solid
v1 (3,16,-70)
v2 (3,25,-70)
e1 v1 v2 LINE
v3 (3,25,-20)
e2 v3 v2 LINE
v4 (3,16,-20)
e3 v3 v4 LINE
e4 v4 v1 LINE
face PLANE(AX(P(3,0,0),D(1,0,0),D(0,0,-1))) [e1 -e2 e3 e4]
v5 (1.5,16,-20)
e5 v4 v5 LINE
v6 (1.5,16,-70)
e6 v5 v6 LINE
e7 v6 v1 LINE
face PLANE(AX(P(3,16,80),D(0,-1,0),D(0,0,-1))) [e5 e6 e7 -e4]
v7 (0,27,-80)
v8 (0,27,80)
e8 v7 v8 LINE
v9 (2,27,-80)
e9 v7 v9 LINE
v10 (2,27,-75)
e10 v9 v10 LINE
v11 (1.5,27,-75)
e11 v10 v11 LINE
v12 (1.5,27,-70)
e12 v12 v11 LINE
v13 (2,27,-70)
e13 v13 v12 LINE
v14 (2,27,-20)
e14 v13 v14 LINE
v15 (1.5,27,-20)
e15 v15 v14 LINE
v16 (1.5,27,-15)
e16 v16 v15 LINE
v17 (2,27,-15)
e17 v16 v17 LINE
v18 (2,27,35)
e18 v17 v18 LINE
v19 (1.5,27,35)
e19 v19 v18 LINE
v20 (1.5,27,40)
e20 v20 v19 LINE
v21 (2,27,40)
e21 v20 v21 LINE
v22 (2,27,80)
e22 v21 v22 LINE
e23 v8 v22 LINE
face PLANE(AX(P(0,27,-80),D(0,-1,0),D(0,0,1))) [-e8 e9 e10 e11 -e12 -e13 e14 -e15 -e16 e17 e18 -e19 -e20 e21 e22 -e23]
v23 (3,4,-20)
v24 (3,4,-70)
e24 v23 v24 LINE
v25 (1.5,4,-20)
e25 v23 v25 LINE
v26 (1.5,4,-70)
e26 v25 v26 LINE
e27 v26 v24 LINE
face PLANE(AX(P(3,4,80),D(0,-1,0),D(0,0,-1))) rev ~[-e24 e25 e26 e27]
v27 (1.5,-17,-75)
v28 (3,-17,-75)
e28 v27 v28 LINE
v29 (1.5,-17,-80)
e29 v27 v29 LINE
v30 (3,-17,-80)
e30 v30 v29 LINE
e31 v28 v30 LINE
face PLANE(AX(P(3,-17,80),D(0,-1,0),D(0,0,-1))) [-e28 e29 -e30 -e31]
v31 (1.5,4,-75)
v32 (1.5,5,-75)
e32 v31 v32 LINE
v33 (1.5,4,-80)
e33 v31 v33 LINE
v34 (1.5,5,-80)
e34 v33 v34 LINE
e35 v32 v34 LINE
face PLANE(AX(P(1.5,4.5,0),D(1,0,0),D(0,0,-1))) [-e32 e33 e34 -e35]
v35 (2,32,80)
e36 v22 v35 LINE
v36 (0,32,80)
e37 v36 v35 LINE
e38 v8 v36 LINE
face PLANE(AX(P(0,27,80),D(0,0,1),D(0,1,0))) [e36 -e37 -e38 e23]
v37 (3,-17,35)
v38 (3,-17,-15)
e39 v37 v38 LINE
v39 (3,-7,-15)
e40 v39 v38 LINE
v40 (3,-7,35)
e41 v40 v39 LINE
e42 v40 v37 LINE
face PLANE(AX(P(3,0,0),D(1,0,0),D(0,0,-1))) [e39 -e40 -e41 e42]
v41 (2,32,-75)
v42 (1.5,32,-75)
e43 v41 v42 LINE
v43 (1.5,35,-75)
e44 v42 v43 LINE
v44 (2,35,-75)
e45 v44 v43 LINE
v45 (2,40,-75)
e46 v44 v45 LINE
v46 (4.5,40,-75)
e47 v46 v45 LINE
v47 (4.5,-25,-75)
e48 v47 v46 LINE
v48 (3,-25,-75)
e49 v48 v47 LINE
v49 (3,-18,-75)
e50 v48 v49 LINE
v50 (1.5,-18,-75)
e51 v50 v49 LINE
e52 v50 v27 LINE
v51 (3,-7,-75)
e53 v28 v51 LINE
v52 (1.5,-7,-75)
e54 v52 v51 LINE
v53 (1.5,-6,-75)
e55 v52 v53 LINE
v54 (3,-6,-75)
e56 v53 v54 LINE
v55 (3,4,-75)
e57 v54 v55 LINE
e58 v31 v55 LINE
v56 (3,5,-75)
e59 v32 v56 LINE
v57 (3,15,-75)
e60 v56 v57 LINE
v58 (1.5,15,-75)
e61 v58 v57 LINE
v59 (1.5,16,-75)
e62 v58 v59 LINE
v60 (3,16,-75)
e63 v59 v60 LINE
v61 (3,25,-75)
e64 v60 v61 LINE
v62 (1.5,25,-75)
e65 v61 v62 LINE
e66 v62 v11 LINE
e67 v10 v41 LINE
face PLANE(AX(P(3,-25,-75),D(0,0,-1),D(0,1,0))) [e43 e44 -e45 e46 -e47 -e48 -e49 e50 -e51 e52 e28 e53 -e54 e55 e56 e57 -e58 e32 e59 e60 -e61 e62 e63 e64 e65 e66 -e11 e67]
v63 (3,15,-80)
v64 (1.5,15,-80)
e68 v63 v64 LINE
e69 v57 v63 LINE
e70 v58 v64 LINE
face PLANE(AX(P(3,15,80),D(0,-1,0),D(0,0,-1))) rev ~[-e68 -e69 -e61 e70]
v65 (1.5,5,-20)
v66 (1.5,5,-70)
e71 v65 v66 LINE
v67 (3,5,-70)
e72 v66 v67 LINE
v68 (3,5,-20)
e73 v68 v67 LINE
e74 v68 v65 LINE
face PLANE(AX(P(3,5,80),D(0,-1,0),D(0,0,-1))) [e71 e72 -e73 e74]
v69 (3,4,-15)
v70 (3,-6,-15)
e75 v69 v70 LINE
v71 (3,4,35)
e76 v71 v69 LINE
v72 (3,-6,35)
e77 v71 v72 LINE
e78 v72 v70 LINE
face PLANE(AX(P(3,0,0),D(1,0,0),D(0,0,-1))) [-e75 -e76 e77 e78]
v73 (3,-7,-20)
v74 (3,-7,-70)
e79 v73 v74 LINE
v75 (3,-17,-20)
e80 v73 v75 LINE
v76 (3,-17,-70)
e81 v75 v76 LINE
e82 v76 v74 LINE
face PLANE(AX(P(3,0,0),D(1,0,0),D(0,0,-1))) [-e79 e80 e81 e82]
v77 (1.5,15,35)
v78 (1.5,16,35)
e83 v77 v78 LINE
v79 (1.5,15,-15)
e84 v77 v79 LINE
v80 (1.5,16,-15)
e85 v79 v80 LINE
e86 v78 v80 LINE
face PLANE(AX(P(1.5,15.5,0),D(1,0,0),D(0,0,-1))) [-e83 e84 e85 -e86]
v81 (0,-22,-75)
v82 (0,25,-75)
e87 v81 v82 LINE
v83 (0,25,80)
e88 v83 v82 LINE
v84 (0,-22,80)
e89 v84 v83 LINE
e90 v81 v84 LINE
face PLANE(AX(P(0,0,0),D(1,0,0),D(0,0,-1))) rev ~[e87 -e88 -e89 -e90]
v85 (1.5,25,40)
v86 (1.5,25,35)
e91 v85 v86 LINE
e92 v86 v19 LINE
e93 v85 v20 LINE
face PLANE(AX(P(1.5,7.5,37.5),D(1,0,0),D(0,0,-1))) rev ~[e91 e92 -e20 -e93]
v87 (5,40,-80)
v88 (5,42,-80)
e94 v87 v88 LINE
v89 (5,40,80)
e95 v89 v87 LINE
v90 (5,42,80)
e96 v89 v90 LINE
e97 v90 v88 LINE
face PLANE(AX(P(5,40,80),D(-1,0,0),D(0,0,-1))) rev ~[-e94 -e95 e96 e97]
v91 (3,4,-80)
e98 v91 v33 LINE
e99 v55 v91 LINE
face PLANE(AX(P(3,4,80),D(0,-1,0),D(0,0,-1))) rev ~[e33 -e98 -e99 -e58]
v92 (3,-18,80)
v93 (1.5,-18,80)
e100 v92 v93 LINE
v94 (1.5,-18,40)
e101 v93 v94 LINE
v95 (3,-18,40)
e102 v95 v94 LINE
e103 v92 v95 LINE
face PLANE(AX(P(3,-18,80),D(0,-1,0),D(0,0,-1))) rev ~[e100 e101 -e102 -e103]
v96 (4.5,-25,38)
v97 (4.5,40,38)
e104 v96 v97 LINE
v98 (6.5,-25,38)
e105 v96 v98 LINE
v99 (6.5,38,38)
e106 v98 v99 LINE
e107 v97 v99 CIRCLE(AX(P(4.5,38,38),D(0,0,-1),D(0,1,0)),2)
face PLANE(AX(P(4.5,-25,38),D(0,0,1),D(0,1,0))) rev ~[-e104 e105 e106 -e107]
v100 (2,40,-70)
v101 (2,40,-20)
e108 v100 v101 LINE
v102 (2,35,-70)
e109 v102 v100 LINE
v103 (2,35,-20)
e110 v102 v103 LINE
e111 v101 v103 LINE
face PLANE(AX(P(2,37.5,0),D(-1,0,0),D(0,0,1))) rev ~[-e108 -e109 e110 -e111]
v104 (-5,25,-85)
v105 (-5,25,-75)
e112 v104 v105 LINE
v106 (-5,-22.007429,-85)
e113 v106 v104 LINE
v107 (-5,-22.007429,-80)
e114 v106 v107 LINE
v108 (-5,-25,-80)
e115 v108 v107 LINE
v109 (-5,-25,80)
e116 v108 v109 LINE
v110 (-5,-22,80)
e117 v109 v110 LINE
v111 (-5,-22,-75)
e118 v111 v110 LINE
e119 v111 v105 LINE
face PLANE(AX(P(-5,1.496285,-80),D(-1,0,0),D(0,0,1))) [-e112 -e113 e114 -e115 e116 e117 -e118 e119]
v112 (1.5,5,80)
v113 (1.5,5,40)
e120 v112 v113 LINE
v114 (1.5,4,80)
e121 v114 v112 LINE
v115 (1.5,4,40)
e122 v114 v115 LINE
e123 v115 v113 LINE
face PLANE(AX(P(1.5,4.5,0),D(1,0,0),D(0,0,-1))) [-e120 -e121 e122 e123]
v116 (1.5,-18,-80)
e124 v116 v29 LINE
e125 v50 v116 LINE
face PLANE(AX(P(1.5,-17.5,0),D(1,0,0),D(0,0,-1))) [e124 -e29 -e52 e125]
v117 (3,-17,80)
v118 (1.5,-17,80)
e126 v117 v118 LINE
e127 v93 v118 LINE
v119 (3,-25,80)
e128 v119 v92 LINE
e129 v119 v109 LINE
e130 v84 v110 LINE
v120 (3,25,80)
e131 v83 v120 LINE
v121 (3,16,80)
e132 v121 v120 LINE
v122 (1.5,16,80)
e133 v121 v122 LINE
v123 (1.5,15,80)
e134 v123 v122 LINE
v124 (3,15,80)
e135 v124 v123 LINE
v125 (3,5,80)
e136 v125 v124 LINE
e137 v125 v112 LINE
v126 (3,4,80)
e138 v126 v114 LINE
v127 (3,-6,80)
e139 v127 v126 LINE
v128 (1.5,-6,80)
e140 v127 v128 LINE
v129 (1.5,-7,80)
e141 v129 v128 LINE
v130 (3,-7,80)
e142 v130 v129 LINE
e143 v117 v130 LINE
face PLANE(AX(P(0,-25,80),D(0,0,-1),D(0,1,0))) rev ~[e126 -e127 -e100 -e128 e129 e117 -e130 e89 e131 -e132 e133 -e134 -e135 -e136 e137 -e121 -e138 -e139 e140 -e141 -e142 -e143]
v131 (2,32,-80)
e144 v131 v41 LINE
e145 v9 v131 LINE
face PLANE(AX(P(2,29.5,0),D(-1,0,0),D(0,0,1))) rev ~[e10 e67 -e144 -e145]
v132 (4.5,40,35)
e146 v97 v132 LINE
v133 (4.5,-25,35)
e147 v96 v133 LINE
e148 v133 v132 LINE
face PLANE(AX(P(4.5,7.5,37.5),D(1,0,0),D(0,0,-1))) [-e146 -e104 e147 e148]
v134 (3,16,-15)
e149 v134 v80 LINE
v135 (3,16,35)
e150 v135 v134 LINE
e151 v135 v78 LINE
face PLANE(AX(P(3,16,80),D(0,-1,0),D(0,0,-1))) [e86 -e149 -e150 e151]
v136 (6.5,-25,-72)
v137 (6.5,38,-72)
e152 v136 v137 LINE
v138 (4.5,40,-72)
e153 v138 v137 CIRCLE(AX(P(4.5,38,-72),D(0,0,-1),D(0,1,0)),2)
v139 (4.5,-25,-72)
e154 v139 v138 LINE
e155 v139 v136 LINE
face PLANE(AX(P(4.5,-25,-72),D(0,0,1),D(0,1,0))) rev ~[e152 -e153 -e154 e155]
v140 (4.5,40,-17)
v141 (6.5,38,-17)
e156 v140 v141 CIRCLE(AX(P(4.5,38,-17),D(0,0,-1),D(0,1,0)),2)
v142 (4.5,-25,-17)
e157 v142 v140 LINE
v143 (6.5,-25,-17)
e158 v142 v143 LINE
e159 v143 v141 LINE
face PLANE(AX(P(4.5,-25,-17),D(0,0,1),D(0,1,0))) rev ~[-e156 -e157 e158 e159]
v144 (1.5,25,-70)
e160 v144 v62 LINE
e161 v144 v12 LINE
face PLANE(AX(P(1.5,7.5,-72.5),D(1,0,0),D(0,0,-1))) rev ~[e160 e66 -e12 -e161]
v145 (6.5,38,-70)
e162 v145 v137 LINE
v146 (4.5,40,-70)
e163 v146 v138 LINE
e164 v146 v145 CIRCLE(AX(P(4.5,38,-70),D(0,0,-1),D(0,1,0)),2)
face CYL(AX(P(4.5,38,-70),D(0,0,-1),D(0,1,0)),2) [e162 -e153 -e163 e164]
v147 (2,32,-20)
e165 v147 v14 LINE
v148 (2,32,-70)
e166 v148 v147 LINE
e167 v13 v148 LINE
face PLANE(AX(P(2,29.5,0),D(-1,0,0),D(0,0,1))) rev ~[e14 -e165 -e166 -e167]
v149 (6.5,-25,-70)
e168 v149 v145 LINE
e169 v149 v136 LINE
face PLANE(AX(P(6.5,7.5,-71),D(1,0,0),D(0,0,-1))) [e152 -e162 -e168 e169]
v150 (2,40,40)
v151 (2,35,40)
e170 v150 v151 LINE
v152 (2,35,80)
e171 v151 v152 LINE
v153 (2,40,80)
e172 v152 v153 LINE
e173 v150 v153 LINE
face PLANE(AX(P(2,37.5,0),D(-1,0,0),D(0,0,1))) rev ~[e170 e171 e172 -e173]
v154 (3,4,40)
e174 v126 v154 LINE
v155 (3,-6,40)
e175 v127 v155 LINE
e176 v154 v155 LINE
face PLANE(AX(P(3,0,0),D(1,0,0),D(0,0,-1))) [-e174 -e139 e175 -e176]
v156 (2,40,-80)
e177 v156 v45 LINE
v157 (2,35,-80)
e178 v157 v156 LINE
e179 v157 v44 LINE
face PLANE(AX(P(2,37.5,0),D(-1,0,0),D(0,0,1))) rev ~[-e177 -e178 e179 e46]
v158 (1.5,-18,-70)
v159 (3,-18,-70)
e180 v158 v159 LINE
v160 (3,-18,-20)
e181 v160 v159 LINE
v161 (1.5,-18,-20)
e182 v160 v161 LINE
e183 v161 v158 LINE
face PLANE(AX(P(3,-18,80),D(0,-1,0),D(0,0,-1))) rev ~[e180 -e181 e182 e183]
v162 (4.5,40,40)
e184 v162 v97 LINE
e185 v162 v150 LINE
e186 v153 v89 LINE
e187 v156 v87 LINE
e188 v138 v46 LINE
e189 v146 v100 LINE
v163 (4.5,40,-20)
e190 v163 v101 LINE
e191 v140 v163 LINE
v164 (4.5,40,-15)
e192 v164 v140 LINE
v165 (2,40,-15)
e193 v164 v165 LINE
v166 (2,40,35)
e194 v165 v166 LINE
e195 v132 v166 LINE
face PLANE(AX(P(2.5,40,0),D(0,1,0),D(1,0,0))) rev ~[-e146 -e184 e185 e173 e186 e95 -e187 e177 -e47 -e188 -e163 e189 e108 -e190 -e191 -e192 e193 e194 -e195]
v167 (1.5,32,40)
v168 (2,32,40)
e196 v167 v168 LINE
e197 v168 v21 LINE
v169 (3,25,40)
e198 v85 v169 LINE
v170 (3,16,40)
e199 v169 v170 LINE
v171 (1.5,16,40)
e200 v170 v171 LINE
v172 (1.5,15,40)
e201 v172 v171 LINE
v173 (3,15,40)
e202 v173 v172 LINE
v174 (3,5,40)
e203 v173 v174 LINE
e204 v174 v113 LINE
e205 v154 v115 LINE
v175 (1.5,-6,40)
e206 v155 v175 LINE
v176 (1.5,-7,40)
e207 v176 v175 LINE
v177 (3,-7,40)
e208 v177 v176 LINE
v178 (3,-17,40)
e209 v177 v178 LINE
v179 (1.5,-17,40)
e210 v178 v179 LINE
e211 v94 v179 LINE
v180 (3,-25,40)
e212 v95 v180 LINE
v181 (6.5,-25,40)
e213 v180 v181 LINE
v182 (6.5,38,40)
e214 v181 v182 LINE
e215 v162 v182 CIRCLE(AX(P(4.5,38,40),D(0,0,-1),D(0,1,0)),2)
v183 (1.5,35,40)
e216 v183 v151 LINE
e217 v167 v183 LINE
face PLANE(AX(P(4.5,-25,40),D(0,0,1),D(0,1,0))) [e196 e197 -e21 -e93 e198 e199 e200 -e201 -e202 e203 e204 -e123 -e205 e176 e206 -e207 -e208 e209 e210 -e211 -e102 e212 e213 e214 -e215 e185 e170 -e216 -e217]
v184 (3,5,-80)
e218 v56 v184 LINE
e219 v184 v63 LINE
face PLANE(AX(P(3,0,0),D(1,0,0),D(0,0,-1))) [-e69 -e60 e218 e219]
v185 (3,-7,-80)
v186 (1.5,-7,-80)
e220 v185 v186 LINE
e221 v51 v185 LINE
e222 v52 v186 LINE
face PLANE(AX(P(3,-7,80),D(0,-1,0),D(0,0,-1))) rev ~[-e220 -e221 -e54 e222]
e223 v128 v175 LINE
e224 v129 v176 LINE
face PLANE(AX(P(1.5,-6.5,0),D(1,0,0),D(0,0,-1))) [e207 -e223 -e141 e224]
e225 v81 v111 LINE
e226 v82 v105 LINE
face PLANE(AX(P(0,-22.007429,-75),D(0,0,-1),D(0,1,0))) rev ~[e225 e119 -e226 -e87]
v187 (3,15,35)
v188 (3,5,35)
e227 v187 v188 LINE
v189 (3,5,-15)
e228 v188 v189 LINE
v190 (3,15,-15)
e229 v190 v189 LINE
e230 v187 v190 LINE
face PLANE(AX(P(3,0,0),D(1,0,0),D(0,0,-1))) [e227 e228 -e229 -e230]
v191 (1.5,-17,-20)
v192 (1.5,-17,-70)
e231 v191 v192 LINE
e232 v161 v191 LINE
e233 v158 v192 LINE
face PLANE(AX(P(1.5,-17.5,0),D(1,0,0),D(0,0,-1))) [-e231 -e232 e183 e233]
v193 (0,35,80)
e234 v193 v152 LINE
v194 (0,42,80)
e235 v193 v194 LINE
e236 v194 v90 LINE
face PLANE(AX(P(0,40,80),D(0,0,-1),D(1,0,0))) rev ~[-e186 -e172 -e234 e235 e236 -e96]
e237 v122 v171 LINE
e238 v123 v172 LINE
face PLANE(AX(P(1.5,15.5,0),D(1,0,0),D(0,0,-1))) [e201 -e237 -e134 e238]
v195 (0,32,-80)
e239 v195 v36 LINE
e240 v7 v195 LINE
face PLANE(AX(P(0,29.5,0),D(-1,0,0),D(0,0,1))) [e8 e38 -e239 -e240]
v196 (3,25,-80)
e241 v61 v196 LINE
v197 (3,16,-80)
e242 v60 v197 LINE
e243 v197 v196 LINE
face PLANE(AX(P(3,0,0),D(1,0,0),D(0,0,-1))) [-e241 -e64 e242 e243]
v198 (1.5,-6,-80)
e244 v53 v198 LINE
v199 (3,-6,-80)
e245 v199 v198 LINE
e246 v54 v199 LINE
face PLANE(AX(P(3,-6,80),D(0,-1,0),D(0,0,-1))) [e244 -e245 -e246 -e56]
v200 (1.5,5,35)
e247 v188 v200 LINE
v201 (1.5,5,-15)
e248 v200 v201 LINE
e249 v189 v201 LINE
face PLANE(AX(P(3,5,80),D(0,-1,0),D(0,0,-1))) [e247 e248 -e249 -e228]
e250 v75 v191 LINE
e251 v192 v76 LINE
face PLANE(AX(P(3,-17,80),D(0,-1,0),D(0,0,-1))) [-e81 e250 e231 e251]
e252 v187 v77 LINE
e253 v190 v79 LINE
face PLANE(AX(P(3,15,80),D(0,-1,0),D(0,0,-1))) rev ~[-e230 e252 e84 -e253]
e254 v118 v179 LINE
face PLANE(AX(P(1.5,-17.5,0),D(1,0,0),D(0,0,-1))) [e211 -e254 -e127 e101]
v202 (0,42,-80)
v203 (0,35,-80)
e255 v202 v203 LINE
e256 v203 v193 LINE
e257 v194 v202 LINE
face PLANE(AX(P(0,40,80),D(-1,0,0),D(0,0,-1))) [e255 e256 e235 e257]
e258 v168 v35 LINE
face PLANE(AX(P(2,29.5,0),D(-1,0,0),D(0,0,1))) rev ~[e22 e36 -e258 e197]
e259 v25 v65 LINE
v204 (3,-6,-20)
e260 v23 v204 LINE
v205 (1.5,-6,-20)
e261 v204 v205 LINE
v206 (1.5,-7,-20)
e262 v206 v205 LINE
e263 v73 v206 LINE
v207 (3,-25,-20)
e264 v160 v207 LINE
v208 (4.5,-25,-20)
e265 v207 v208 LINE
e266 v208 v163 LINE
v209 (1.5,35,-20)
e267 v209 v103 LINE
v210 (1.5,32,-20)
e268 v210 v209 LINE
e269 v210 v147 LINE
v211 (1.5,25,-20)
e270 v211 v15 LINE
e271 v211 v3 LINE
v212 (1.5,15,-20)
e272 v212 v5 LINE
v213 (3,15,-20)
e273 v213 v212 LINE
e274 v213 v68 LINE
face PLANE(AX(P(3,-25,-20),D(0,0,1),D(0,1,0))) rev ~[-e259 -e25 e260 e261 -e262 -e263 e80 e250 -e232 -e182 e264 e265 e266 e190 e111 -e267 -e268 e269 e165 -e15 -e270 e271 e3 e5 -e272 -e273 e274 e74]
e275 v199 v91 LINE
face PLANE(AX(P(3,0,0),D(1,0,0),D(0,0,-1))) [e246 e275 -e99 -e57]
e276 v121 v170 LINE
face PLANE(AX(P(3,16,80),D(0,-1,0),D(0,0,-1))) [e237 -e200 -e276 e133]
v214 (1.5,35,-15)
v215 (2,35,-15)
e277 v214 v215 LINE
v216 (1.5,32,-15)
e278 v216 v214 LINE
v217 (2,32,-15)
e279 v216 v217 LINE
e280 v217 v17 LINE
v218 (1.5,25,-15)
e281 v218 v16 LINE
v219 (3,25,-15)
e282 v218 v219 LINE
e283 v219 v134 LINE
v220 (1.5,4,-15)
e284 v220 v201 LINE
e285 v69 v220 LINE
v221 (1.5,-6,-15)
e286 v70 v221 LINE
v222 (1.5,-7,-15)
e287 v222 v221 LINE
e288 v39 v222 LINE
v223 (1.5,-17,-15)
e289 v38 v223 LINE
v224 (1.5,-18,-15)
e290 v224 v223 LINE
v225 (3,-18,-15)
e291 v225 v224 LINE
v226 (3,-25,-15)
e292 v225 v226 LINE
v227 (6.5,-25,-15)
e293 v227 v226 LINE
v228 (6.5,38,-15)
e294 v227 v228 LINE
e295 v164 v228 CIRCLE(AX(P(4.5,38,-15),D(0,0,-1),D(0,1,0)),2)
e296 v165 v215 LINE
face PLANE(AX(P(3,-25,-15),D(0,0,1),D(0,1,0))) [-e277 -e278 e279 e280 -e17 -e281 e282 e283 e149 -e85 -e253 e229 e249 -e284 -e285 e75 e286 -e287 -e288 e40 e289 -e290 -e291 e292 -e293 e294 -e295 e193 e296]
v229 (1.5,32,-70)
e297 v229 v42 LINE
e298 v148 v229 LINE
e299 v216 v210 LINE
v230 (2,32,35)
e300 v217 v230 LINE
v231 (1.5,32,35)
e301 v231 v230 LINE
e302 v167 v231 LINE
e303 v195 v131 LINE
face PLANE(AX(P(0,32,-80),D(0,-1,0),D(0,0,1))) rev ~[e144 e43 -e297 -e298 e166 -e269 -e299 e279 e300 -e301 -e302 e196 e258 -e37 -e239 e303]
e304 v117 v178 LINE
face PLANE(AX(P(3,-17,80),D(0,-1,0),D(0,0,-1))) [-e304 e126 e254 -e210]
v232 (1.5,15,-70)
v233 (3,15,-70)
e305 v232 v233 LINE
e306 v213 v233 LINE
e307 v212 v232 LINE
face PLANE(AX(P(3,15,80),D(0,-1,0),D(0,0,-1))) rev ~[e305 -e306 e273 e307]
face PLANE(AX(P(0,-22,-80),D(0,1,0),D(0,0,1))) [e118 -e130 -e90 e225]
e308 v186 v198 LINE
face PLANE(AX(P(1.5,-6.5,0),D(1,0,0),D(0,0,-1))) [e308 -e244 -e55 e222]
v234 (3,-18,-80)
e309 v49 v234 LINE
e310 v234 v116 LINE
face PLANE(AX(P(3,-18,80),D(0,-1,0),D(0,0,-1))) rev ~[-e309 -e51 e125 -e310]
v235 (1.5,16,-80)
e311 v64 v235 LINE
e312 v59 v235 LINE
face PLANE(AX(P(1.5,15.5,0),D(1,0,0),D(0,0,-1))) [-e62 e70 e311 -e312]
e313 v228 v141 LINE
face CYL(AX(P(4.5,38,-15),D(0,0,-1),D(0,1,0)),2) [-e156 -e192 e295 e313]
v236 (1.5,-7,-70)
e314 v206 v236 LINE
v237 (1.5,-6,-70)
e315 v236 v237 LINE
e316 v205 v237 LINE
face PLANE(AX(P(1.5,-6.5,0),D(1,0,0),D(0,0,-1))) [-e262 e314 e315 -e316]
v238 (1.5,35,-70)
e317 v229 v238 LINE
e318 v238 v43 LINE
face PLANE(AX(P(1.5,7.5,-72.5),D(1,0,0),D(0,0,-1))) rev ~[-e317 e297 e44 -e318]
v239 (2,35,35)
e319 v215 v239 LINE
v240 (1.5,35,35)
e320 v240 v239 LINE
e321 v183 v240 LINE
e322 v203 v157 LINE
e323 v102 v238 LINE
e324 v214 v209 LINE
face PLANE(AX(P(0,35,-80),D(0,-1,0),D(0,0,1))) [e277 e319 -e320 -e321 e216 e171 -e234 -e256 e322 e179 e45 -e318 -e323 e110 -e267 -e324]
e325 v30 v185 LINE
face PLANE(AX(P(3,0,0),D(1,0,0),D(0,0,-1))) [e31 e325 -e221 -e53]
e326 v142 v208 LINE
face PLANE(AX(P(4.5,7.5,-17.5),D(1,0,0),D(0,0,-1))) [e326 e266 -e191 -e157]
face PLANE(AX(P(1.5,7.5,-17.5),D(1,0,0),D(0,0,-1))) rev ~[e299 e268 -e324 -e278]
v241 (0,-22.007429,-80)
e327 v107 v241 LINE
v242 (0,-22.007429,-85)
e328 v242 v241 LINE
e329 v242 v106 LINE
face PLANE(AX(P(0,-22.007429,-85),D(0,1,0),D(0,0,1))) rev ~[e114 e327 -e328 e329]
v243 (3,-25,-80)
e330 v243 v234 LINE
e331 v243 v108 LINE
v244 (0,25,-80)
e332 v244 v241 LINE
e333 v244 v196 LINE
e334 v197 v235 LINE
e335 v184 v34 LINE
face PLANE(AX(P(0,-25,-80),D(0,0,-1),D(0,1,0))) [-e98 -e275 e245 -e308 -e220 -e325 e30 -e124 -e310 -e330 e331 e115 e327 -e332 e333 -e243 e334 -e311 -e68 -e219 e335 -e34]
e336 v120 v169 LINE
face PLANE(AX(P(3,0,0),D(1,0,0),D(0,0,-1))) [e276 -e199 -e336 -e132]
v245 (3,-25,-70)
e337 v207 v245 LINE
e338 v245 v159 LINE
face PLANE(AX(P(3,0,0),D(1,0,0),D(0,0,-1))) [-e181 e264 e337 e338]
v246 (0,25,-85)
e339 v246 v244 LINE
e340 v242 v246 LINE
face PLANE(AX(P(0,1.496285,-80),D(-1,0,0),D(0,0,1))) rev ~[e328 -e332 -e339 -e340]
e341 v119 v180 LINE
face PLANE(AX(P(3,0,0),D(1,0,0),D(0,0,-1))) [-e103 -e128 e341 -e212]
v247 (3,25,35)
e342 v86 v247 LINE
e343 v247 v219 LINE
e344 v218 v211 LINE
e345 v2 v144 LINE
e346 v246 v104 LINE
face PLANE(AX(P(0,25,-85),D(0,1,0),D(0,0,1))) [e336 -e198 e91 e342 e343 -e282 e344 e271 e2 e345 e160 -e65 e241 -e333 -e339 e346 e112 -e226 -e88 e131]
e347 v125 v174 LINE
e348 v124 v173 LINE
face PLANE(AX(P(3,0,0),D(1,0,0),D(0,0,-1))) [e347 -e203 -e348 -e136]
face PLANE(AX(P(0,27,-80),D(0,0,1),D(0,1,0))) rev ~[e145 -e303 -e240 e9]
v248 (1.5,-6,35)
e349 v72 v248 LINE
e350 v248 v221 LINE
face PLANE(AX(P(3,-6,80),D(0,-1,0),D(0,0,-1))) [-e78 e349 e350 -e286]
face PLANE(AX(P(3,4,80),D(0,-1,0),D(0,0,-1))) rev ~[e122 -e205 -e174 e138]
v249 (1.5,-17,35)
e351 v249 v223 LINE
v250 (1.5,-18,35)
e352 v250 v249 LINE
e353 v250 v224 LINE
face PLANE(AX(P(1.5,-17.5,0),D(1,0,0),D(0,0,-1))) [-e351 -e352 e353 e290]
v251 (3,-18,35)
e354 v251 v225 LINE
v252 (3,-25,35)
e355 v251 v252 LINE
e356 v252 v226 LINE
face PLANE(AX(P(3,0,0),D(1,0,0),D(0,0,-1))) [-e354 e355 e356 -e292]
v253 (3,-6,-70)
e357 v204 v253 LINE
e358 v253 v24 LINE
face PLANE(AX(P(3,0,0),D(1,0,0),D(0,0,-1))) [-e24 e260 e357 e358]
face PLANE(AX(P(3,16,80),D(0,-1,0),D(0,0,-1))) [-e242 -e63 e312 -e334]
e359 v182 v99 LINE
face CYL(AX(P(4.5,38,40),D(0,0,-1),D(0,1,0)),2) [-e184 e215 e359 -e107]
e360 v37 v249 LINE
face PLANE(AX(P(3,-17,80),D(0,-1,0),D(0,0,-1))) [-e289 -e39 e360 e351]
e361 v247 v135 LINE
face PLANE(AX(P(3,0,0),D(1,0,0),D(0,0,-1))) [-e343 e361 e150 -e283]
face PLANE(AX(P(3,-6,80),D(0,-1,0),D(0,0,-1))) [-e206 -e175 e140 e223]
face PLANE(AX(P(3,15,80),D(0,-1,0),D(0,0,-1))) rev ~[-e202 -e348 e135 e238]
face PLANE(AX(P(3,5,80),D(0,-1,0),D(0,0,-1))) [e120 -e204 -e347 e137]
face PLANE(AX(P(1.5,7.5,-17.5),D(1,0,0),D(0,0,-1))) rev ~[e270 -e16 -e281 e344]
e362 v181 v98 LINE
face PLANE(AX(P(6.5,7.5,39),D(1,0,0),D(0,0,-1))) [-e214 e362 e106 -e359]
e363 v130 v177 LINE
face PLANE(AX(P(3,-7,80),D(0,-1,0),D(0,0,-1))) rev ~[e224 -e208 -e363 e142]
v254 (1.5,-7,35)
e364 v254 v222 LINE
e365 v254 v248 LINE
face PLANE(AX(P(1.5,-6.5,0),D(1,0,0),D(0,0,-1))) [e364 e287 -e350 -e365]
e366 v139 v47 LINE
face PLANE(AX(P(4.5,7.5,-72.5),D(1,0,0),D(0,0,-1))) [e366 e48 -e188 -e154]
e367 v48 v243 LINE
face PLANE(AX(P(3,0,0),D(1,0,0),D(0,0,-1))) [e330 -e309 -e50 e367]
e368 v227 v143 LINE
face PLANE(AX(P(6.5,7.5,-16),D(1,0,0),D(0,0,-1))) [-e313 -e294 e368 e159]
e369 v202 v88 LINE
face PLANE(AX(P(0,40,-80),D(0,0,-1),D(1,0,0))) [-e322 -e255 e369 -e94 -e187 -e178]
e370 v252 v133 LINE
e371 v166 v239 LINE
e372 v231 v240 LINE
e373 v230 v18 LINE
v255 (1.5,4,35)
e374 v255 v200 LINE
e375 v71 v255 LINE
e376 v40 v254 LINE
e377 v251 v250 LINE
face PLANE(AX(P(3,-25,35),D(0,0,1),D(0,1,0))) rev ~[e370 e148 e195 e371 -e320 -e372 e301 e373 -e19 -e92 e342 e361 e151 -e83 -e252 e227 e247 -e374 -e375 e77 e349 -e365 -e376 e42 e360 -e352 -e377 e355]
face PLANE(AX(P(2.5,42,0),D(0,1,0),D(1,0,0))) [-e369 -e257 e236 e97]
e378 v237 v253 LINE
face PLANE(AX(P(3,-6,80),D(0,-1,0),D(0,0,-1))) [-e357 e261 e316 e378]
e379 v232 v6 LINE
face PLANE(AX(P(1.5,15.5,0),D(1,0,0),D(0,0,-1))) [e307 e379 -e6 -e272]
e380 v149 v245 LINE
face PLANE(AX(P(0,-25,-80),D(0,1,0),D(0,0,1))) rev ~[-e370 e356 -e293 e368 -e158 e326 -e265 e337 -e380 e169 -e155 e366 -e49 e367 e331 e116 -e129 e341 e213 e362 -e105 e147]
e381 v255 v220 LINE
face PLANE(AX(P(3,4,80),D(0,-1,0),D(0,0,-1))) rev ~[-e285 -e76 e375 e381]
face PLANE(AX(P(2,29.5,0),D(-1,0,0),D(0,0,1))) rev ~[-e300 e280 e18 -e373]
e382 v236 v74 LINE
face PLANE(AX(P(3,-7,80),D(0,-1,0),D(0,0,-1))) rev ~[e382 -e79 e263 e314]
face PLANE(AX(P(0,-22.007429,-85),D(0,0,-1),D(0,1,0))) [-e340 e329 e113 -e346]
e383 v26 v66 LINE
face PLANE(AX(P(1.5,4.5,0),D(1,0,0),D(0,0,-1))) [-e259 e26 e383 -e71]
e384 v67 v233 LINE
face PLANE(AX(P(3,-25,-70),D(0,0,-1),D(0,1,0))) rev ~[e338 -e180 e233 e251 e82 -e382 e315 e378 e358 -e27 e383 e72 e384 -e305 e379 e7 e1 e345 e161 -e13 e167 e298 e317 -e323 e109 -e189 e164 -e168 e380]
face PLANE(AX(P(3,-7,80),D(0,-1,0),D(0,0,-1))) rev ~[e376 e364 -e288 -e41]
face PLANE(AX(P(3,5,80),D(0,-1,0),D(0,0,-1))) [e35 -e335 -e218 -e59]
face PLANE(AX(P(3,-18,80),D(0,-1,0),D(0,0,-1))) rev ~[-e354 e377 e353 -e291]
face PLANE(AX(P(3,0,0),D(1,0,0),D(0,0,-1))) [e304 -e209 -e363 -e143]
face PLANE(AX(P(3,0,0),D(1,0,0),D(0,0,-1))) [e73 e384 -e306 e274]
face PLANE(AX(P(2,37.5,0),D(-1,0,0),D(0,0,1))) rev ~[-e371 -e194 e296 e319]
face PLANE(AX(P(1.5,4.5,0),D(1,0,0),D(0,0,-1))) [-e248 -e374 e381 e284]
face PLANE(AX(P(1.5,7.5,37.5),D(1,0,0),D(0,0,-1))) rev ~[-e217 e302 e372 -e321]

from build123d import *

# Parameters (mm, degrees)
SKETCH1_W           = 160
SKETCH1_H           = 50
BOSS_EXTRUDE1_DEPTH = 3
SKETCH3_W           = 160
SKETCH3_H           = 1
CUT_EXTRUDE1_DEPTH  = 1.5
SKETCH4_W           = 5
SKETCH4_H           = 65
BOSS_EXTRUDE2_DEPTH = 1.5
SKETCH5_W           = 2
SKETCH5_H           = 65
BOSS_EXTRUDE3_DEPTH = 2
FILLET1_R           = 2
SKETCH8_W           = 160
SKETCH8_H           = 5
BOSS_EXTRUDE4_DEPTH = 2
SKETCH6_W           = 5
SKETCH6_H           = 160
BOSS_EXTRUDE5_DEPTH = 2
SKETCH10_W          = 160
SKETCH10_H          = 3
BOSS_EXTRUDE6_DEPTH = 5
SKETCH13_W          = 10
SKETCH13_H          = 47.007429362
BOSS_EXTRUDE7_DEPTH = 5


with BuildPart() as part:
    # Sketch1 → Boss-Extrude1 (new body)
    with BuildSketch(Plane(origin=(0, 0, 0), x_dir=(0, 0, -1), z_dir=(1, 0, 0))):
        Rectangle(SKETCH1_W, SKETCH1_H)
    extrude(amount=BOSS_EXTRUDE1_DEPTH)

    # Sketch3 → Cut-Extrude1 (cut)
    with BuildSketch(Plane(origin=(3, 0, 0), x_dir=(0, 0, -1), z_dir=(1, 0, 0))):
        with Locations((0, -17.5)):
            Rectangle(SKETCH3_W, SKETCH3_H)
        with Locations((0, -6.5)):
            Rectangle(SKETCH3_W, SKETCH3_H)
        with Locations((0, 4.5)):
            Rectangle(SKETCH3_W, SKETCH3_H)
        with Locations((0, 15.5)):
            Rectangle(SKETCH3_W, SKETCH3_H)
    extrude(amount=-CUT_EXTRUDE1_DEPTH, mode=Mode.SUBTRACT)

    # Sketch4 → Boss-Extrude2 (add, symmetric)
    with BuildSketch(Plane(origin=(3, 0, 0), x_dir=(0, 0, -1), z_dir=(1, 0, 0))):
        with Locations((-37.5, 7.5)):
            Rectangle(SKETCH4_W, SKETCH4_H)
        with Locations((17.5, 7.5)):
            Rectangle(SKETCH4_W, SKETCH4_H)
        with Locations((72.5, 7.5)):
            Rectangle(SKETCH4_W, SKETCH4_H)
    extrude(amount=BOSS_EXTRUDE2_DEPTH, both=True)

    # Sketch5 → Boss-Extrude3 (add)
    with BuildSketch(Plane(origin=(4.5, 0, 0), x_dir=(0, 0, -1), z_dir=(1, 0, 0))):
        with Locations((-39, 7.5)):
            Rectangle(SKETCH5_W, SKETCH5_H)
        with Locations((16, 7.5)):
            Rectangle(SKETCH5_W, SKETCH5_H)
        with Locations((71, 7.5)):
            Rectangle(SKETCH5_W, SKETCH5_H)
    extrude(amount=BOSS_EXTRUDE3_DEPTH)

    # Fillet1
    fillet1_edges = [part.edges().sort_by_distance(p)[0] for p in [
        (6.5, 40, -71),
        (6.5, 40, -16),
        (6.5, 40, 39),
    ]]
    fillet(fillet1_edges, radius=FILLET1_R)

    # Sketch8 → Boss-Extrude4 (add)
    with BuildSketch(Plane.ZY):
        with Locations((0, 29.5)):
            Rectangle(SKETCH8_W, SKETCH8_H)
        with Locations((0, 37.5)):
            Rectangle(SKETCH8_W, SKETCH8_H)
    extrude(amount=-BOSS_EXTRUDE4_DEPTH)

    # Sketch6 → Boss-Extrude5 (add)
    with BuildSketch(Plane(origin=(0, 40, 0), x_dir=(1, 0, 0), z_dir=(0, 1, 0))):
        with Locations((2.5, 0)):
            Rectangle(SKETCH6_W, SKETCH6_H)
    extrude(amount=BOSS_EXTRUDE5_DEPTH)

    # Sketch10 → Boss-Extrude6 (add)
    with BuildSketch(Plane.ZY):
        with Locations((0, -23.5)):
            Rectangle(SKETCH10_W, SKETCH10_H)
    extrude(amount=BOSS_EXTRUDE6_DEPTH)

    # Sketch13 → Boss-Extrude7 (add)
    with BuildSketch(Plane.ZY):
        with Locations((-80, 1.496285319)):
            Rectangle(SKETCH13_W, SKETCH13_H)
    extrude(amount=BOSS_EXTRUDE7_DEPTH)


solid = part.part
